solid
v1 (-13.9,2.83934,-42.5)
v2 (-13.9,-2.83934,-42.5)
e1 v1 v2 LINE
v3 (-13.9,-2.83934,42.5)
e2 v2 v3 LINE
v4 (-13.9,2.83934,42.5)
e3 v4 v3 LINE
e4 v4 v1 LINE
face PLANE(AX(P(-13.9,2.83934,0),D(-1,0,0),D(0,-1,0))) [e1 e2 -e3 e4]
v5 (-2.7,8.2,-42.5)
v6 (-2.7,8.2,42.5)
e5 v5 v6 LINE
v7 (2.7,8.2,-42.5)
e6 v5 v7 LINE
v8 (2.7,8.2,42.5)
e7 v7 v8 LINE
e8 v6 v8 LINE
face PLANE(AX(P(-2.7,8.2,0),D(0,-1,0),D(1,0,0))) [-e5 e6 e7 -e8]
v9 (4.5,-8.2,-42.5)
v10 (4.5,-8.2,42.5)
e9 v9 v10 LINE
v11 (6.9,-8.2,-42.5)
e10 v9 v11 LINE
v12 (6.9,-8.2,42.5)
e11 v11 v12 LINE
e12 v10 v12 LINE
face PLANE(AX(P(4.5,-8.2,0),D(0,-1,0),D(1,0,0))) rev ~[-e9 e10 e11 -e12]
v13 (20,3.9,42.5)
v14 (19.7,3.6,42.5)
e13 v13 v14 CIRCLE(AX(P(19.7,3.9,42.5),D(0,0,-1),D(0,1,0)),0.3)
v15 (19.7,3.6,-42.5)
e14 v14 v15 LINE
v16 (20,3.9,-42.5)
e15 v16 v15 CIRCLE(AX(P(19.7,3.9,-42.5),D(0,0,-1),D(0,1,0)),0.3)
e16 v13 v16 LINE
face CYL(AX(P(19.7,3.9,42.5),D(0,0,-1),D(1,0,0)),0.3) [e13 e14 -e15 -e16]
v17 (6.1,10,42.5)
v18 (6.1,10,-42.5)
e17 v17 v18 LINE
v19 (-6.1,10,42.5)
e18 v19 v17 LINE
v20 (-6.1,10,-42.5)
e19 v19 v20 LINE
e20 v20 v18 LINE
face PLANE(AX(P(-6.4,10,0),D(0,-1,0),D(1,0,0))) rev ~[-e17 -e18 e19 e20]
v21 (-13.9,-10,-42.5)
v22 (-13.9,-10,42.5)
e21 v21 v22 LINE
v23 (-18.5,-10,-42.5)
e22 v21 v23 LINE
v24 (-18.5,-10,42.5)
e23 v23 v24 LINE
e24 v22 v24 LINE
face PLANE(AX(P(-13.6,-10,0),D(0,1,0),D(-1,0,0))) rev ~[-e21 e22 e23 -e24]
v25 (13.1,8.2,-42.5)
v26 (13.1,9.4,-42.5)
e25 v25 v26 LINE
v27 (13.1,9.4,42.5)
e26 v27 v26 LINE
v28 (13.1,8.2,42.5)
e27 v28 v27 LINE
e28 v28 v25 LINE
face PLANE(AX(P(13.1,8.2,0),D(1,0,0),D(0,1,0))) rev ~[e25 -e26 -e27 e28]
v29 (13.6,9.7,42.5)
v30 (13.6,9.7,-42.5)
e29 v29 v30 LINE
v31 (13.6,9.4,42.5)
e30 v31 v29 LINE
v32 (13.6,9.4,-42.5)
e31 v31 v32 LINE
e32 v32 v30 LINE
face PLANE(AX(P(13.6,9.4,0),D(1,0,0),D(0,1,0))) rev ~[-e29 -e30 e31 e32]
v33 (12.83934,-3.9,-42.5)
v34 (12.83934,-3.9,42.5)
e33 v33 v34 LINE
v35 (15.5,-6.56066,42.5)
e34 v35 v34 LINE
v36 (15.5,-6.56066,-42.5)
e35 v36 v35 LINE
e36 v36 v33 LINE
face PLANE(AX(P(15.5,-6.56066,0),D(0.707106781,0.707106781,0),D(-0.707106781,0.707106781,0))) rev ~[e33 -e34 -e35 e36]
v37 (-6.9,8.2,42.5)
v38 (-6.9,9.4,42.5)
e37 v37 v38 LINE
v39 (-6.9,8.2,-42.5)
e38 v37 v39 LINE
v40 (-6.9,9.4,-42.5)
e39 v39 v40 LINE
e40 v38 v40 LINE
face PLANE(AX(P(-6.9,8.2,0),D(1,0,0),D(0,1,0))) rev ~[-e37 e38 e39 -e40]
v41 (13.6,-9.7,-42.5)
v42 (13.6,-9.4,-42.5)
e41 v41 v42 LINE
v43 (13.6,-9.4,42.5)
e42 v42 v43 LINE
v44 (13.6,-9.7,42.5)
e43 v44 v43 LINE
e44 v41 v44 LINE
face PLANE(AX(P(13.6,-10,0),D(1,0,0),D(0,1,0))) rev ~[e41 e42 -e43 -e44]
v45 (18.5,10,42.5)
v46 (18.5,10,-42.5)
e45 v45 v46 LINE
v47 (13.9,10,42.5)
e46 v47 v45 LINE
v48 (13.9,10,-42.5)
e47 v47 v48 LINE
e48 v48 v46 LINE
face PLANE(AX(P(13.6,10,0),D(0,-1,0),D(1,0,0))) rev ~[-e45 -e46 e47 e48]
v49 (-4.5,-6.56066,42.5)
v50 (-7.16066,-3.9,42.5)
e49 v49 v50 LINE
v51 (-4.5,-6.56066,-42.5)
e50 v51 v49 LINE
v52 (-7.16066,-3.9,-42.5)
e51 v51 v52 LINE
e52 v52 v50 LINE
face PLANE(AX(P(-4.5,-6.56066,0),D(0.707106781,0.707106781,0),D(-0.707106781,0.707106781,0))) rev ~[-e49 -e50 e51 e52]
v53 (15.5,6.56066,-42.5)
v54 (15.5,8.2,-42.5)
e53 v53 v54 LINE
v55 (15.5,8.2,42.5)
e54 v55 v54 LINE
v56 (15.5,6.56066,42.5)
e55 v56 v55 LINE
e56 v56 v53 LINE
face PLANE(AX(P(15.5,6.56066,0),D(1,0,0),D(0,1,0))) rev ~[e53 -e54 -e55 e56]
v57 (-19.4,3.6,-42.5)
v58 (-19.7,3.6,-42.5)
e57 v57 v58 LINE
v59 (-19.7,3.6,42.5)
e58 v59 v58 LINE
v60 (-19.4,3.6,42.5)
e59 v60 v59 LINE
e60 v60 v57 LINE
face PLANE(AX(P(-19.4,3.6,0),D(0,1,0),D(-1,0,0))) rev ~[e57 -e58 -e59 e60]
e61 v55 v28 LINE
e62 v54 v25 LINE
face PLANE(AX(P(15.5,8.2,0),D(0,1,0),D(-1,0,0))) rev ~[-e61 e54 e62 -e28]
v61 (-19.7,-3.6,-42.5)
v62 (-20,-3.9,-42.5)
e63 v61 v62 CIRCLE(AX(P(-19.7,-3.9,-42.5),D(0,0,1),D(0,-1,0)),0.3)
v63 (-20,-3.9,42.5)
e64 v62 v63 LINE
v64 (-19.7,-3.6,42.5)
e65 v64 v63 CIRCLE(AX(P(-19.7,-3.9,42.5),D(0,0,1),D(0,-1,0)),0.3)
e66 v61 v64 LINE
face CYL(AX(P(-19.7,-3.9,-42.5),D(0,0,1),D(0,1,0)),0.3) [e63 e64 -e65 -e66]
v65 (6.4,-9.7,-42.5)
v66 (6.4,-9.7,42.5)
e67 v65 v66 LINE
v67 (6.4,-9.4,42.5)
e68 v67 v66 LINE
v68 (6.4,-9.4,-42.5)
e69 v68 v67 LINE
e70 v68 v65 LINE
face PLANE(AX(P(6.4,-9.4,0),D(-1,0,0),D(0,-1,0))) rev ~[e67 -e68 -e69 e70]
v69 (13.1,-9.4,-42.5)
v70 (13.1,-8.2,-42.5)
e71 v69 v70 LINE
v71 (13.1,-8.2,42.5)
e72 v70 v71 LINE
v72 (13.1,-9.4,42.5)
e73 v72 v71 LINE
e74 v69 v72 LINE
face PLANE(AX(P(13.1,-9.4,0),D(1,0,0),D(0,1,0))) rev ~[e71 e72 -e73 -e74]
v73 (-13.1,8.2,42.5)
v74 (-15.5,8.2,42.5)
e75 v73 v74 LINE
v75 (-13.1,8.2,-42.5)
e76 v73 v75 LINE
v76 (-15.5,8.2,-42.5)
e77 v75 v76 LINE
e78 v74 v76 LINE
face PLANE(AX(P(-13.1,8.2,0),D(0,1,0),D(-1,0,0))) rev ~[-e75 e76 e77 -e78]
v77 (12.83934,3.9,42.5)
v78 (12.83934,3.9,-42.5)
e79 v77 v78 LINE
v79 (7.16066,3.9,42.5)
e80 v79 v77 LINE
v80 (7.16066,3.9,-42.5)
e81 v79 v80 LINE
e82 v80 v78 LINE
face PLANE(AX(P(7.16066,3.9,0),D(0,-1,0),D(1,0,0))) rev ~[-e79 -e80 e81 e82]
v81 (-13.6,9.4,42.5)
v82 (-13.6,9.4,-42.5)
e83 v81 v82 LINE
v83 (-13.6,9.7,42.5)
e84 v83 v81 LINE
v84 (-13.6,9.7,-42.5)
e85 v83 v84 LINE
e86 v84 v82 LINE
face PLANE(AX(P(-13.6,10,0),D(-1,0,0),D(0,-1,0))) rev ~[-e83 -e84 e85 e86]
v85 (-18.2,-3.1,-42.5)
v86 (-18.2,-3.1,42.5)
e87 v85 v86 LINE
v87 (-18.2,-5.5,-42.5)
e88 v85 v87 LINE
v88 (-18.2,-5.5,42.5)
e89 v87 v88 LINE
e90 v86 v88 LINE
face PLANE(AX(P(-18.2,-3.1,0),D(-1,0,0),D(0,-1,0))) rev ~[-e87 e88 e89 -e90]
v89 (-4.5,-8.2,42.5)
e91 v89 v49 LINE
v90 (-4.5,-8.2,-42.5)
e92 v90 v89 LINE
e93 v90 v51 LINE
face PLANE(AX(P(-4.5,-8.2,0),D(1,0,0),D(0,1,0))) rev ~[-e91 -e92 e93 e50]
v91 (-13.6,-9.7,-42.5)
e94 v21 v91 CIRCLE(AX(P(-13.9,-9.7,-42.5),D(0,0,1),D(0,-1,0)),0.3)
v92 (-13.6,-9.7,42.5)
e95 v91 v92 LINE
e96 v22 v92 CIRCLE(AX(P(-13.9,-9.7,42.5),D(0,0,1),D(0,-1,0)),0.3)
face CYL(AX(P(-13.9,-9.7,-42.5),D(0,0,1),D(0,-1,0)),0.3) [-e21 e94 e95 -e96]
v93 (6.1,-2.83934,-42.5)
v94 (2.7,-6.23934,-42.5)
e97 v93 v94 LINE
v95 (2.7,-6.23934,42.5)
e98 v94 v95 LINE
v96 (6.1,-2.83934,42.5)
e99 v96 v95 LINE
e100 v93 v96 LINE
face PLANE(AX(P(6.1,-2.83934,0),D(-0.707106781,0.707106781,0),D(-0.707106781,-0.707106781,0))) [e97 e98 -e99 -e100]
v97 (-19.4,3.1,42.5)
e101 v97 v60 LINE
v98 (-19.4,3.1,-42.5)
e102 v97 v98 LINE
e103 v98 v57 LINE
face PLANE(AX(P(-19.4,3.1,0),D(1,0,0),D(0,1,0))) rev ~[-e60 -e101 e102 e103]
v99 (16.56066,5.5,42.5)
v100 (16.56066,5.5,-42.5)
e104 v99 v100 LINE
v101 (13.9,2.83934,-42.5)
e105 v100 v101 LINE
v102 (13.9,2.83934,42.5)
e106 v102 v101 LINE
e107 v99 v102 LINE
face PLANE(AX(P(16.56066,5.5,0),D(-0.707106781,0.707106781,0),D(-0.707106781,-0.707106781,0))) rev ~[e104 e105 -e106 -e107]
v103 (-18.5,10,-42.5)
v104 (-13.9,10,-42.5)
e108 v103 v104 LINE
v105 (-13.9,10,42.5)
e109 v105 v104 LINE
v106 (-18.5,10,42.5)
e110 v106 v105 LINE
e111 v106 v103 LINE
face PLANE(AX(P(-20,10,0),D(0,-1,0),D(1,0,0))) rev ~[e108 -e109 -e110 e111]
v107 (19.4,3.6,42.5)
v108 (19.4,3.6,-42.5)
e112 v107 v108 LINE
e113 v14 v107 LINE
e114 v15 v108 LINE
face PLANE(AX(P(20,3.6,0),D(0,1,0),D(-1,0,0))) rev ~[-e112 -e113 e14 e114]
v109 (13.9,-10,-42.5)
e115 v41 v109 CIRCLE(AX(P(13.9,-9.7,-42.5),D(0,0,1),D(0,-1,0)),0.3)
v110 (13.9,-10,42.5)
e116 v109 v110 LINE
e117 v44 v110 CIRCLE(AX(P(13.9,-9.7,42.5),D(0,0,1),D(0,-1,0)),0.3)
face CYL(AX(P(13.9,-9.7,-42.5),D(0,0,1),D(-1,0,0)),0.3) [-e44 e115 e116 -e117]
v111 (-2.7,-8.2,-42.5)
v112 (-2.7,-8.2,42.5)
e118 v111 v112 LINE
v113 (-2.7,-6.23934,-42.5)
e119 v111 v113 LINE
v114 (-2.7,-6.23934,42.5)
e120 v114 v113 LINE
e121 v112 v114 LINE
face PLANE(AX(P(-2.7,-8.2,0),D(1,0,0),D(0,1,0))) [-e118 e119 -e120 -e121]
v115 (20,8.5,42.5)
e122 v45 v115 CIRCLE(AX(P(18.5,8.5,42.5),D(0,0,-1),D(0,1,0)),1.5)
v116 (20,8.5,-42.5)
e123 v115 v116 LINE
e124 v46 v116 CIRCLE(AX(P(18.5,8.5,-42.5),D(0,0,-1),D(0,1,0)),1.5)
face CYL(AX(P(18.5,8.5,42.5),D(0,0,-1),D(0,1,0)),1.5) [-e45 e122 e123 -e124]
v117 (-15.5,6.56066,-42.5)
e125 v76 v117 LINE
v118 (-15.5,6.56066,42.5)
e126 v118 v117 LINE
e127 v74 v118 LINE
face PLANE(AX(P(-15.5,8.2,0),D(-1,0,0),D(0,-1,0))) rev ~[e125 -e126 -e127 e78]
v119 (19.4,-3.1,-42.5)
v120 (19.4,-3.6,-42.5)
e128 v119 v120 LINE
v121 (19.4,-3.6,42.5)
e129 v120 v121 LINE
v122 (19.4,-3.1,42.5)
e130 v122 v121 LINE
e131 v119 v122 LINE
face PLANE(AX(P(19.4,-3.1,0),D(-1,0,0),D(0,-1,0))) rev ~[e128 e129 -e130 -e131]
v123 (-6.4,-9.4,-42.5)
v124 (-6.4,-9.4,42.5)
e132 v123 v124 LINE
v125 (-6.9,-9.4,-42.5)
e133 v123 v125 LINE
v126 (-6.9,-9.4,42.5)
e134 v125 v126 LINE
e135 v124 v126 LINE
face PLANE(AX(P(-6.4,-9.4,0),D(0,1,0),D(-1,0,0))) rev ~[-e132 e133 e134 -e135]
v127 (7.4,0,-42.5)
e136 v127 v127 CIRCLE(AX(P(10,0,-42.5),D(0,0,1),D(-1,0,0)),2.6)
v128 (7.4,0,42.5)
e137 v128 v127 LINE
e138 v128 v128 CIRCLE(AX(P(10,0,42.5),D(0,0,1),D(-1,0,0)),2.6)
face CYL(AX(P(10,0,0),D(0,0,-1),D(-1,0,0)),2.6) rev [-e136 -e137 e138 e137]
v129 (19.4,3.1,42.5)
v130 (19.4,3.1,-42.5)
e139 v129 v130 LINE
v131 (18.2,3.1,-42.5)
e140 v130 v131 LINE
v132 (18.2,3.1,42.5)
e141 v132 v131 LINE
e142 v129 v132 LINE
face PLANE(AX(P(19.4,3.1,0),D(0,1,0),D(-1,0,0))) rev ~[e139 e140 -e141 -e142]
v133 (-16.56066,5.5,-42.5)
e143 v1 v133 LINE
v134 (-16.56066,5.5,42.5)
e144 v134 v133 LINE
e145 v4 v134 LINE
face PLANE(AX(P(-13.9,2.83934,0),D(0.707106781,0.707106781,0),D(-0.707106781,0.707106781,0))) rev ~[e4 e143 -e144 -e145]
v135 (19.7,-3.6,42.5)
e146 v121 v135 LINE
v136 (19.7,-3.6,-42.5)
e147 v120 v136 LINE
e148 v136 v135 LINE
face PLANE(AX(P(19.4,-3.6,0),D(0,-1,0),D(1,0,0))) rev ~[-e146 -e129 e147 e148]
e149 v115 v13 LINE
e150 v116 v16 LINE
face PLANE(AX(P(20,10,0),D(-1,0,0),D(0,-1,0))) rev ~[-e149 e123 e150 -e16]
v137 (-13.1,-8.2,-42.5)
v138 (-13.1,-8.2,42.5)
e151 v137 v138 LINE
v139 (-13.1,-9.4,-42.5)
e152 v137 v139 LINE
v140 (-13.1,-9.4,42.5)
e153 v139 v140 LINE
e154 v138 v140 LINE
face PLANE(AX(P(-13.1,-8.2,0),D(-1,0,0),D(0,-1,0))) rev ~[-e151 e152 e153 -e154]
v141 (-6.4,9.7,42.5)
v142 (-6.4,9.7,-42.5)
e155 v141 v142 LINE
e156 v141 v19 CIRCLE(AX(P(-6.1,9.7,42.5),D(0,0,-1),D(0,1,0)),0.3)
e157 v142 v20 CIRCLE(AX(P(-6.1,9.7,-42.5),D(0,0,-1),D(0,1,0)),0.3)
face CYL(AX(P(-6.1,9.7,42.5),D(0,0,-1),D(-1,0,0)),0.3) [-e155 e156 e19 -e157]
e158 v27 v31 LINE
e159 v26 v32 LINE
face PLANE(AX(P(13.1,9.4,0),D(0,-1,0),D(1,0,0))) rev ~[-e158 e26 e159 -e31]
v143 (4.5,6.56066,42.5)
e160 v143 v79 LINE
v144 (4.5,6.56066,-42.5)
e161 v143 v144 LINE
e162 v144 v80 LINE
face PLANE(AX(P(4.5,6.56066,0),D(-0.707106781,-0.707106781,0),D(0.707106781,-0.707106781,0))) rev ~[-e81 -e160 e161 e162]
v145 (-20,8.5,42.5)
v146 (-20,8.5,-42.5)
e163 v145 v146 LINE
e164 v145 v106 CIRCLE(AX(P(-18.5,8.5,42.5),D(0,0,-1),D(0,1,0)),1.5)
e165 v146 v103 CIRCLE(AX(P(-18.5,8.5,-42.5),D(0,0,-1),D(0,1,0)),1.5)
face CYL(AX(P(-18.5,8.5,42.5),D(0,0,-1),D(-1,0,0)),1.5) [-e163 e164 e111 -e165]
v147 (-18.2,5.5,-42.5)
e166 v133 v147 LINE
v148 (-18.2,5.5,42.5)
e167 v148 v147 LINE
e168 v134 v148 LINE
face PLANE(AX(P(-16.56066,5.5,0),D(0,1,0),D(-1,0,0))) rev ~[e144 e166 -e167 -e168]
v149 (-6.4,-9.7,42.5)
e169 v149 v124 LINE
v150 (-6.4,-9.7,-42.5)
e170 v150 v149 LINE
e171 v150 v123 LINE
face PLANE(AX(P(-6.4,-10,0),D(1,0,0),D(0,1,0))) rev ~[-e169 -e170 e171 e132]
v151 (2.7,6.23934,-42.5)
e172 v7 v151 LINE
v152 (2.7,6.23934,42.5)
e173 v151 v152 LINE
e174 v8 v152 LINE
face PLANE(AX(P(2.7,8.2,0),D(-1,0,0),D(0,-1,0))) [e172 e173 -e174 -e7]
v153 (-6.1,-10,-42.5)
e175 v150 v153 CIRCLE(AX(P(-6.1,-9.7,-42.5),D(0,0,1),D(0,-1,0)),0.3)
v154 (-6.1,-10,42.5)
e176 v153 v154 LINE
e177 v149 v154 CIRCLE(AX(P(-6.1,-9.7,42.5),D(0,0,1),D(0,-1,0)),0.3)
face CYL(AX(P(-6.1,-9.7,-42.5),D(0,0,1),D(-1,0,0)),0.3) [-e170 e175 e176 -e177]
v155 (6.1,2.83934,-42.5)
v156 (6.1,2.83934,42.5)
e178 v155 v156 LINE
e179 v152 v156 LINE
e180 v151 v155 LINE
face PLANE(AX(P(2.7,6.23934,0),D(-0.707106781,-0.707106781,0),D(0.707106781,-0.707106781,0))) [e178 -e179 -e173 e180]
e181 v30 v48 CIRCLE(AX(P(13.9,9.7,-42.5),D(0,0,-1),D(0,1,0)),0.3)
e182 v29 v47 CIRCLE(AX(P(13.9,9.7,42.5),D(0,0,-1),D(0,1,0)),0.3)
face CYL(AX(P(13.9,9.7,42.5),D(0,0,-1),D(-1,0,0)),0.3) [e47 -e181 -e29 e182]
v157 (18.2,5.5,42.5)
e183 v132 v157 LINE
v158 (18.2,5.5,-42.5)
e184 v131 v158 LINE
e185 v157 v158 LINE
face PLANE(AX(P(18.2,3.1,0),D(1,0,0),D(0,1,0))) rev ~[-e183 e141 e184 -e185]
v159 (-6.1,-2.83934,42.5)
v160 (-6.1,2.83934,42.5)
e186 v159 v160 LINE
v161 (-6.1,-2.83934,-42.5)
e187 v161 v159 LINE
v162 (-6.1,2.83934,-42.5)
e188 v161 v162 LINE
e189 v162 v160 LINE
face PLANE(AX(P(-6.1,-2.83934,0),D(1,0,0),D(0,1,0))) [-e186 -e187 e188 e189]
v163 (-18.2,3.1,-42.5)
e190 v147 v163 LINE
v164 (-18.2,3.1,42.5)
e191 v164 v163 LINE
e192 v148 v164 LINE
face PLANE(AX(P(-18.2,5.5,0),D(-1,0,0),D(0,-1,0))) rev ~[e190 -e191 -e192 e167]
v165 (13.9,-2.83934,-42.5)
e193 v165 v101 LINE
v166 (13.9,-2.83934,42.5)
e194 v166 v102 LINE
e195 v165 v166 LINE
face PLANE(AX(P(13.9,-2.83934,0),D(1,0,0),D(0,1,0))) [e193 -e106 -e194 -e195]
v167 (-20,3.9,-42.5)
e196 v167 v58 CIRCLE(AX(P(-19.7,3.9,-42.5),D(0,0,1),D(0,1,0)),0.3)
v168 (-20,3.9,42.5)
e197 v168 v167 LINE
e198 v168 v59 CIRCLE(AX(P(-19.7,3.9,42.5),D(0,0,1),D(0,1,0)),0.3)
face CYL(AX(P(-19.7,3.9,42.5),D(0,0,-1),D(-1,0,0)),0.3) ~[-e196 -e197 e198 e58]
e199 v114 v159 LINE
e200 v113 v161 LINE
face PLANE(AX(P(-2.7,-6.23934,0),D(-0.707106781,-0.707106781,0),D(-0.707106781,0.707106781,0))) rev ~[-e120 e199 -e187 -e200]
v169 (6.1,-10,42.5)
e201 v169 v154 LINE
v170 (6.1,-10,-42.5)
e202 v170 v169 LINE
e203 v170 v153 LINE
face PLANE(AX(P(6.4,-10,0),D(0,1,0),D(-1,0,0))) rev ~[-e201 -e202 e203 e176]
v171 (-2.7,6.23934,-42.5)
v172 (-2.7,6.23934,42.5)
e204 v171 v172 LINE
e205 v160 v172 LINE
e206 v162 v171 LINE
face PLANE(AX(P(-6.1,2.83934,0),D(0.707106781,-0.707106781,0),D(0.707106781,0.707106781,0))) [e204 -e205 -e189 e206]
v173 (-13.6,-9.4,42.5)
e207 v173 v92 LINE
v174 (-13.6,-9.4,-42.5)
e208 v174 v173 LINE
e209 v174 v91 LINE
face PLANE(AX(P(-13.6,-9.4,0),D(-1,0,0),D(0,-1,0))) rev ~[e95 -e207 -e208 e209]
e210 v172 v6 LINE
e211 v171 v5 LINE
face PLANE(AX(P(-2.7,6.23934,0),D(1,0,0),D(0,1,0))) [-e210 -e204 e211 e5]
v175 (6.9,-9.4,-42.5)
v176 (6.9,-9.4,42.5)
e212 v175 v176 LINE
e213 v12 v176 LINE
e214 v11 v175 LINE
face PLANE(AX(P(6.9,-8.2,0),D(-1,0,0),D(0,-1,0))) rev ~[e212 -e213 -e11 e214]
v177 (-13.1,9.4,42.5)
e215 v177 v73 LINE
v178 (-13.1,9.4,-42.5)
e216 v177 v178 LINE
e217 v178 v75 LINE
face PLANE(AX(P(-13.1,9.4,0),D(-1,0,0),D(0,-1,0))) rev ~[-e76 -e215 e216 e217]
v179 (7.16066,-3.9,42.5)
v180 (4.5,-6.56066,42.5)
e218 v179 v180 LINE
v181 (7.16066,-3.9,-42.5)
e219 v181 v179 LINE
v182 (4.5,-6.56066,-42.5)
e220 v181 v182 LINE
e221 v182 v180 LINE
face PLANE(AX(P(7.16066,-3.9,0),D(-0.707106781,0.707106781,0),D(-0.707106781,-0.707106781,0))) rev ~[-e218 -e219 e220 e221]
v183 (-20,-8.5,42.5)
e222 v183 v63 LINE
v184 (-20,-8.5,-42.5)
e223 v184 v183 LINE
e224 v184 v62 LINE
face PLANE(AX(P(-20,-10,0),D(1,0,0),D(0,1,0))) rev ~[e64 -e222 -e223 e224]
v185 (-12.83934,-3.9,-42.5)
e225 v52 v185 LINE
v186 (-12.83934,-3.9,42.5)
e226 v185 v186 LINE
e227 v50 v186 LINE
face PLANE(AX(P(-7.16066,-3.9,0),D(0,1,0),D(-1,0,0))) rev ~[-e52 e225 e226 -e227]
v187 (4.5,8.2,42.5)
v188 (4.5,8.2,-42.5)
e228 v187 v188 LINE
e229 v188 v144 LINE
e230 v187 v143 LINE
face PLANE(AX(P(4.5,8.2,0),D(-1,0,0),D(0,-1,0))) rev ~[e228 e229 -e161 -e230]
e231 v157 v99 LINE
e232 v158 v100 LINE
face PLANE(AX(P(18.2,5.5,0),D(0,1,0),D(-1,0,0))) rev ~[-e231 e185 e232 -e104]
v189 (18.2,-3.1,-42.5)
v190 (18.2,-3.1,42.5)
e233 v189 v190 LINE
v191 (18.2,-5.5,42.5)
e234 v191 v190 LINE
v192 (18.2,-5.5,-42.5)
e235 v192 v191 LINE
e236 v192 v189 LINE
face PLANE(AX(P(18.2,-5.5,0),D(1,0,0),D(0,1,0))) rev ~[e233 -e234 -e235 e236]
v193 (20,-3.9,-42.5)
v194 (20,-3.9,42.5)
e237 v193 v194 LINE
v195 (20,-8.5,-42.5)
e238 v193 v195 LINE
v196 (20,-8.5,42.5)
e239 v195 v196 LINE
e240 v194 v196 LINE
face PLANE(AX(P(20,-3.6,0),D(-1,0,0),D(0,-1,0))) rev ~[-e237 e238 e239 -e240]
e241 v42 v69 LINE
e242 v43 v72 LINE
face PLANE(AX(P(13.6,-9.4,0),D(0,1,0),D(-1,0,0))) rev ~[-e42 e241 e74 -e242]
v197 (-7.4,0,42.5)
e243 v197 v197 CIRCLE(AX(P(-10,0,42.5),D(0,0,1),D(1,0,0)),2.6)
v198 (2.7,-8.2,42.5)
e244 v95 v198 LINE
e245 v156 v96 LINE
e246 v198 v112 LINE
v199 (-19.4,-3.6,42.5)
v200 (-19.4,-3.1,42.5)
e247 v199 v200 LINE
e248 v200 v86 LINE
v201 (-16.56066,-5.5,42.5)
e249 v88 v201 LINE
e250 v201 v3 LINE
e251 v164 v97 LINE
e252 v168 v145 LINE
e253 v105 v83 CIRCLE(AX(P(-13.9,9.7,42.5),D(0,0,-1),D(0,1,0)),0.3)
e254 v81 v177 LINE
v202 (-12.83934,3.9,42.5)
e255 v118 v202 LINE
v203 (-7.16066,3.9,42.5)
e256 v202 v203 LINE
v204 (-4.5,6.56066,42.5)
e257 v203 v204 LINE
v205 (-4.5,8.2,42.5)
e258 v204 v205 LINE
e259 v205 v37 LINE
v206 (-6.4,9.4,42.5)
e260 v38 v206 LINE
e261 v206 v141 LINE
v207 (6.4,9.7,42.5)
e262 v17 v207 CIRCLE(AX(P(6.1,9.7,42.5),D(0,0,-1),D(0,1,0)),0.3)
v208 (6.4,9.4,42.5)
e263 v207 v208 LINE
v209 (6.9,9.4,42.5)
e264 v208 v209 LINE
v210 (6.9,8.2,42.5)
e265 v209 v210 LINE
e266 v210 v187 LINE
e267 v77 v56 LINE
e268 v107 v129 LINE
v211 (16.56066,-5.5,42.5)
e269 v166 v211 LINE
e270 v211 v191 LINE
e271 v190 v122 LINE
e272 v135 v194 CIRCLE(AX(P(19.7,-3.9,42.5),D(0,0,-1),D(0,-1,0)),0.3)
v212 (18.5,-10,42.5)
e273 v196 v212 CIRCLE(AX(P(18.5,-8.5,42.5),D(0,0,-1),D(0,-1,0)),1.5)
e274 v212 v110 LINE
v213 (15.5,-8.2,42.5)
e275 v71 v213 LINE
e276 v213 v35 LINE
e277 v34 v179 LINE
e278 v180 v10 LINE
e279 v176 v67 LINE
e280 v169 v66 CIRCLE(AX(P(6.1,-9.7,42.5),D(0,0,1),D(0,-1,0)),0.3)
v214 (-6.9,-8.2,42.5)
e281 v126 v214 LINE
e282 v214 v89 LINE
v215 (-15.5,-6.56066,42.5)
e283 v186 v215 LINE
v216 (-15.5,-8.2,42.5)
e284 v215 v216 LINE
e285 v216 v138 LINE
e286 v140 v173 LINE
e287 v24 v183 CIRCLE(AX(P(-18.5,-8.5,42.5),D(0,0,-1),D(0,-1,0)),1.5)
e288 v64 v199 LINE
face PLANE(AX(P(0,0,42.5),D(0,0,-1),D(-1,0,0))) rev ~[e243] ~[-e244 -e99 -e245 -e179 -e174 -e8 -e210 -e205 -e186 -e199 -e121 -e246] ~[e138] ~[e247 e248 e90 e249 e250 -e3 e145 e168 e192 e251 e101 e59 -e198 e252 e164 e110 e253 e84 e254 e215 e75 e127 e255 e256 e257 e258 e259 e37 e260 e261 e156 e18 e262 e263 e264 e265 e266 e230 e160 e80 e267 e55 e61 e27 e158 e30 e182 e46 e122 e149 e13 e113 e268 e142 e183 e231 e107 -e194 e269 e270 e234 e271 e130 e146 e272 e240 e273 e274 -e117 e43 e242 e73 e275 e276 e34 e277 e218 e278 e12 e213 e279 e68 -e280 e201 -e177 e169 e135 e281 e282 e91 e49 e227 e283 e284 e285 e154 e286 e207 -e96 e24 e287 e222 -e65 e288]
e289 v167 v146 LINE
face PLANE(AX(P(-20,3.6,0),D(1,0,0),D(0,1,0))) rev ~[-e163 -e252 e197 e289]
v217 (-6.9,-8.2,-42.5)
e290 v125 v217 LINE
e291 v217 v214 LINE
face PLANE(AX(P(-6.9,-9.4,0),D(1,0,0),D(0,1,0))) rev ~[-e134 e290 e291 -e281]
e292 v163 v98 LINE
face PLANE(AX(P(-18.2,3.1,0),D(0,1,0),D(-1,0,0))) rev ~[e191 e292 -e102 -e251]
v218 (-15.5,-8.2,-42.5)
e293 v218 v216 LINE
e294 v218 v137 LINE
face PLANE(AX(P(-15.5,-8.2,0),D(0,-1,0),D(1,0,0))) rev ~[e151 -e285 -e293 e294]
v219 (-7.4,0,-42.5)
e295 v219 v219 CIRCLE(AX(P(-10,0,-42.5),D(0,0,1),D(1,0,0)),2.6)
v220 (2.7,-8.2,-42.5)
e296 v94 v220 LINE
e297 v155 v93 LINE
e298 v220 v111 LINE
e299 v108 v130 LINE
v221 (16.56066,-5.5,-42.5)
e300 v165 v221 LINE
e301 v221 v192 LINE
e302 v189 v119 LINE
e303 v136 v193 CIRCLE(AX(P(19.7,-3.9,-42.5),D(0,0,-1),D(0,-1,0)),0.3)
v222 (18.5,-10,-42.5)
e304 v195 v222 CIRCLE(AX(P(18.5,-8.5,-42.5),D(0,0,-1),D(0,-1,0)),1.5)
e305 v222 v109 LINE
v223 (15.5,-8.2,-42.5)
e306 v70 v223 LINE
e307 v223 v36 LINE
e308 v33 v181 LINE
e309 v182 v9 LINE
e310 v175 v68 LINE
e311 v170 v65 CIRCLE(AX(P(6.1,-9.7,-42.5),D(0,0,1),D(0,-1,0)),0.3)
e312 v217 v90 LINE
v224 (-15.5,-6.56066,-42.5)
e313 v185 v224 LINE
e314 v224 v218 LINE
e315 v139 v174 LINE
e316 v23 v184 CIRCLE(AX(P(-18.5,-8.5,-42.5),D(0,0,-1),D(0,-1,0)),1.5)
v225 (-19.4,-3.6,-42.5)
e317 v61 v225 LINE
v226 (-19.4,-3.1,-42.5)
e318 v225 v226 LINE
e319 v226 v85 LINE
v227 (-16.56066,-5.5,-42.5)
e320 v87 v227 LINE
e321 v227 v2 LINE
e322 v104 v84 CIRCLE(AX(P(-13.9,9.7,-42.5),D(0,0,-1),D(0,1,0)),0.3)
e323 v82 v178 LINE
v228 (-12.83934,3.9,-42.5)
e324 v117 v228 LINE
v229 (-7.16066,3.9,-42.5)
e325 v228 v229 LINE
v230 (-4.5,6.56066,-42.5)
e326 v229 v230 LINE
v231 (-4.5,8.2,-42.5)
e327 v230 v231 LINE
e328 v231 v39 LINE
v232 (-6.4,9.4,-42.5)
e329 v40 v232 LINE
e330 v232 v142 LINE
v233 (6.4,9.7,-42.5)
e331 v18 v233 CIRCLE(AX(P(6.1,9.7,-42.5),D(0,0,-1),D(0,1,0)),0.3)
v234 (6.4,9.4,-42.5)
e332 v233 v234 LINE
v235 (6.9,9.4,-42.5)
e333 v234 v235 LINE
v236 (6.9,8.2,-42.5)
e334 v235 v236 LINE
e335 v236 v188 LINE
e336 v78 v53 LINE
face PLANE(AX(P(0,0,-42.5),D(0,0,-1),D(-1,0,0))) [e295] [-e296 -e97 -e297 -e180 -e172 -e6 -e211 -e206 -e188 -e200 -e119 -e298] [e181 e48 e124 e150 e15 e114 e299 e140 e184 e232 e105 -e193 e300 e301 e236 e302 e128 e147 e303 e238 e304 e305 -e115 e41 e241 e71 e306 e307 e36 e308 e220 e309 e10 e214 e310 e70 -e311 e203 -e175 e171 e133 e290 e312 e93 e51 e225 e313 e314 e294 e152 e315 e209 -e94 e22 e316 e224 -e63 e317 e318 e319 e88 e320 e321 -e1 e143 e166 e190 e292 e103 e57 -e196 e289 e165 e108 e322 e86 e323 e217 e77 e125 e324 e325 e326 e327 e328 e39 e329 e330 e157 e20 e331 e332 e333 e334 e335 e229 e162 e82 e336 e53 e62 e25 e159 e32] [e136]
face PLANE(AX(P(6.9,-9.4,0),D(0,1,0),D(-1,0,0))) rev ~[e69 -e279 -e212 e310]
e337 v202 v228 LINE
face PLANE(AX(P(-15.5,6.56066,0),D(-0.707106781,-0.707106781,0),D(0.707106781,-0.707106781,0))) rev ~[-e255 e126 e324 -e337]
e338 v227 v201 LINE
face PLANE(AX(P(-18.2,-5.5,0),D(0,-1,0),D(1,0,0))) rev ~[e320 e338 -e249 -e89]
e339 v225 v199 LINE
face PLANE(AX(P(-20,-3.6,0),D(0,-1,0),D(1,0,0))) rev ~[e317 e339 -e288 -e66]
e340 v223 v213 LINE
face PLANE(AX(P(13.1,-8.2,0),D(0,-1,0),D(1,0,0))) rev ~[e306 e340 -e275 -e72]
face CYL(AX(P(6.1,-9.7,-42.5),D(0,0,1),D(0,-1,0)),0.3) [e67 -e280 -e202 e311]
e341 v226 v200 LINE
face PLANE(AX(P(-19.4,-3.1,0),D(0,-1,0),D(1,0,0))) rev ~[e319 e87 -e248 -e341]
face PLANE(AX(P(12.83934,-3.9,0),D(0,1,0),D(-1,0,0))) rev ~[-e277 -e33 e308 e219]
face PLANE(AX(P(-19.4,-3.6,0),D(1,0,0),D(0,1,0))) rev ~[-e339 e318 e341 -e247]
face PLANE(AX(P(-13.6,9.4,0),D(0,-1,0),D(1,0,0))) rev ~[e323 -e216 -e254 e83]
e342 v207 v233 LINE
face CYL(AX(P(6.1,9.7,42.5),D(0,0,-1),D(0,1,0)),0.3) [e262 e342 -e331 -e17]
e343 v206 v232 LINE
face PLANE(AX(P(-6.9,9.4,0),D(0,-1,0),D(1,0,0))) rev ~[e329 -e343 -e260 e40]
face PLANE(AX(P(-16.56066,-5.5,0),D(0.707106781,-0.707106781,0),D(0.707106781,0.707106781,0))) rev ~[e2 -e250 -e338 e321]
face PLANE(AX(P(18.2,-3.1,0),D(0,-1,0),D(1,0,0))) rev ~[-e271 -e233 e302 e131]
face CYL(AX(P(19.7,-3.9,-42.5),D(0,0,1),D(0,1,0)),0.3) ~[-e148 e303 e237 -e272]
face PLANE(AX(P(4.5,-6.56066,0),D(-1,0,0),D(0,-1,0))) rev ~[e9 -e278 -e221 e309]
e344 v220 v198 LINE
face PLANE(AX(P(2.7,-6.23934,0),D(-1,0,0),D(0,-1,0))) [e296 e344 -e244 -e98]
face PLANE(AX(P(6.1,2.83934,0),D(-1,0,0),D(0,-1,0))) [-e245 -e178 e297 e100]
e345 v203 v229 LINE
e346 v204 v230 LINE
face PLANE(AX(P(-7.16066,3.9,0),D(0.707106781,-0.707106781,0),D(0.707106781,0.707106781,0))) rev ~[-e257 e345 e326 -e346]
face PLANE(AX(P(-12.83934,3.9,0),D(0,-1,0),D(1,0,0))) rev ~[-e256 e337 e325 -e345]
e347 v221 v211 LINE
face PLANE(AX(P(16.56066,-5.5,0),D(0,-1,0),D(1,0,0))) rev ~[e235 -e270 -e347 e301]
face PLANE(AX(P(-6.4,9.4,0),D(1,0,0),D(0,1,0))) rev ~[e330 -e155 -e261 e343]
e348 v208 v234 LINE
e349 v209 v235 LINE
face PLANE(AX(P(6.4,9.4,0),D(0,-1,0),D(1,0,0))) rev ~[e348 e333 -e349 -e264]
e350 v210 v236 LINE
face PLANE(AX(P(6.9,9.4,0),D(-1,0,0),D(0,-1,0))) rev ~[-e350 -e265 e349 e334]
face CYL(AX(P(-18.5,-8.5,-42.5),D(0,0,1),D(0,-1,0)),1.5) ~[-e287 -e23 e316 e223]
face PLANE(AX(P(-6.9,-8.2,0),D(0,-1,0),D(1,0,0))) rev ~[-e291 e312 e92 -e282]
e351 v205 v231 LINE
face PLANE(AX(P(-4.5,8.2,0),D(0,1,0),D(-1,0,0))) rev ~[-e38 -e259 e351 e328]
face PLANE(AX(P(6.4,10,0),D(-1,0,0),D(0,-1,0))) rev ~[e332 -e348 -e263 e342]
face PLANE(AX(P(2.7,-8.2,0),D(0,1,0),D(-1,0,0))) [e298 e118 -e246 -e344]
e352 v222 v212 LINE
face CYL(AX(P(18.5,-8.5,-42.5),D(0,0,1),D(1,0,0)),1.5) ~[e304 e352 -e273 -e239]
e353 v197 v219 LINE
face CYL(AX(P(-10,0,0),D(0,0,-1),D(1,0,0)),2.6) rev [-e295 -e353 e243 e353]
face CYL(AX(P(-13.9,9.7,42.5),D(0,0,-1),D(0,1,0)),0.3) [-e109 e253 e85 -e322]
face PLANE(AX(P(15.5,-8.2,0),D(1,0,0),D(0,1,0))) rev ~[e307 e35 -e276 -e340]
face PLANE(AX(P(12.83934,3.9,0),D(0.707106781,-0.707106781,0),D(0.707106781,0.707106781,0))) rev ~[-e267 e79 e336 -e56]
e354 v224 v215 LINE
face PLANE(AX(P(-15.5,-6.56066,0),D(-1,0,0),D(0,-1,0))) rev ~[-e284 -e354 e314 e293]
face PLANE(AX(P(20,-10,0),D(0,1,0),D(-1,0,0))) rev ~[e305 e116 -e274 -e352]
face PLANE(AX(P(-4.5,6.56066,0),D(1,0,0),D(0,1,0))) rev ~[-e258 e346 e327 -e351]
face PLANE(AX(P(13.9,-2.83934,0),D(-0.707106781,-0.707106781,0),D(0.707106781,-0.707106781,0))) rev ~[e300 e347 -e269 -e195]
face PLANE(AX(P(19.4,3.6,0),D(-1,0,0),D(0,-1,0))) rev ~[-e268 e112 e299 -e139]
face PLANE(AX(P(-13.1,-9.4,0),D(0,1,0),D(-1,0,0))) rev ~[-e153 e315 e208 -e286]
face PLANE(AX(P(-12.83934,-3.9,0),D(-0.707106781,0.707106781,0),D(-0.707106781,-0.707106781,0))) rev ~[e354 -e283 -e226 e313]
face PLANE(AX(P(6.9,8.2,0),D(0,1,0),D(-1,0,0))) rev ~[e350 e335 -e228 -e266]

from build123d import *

# Parameters (mm, degrees)
SKETCH_1_R      = 2.6
EXTRUDE_1_DEPTH = 42.5
FILLET_1_R      = 1.5
FILLET_2_R      = 0.3


with BuildPart() as part:
    # 草图1 → 凸台-拉伸1 (new, symmetric)
    with BuildSketch(Plane.XY):
        Polygon((-13.9, 0), (-13.9, 2.839339828), (-16.560660172, 5.5), (-18.2, 5.5), (-18.2, 3.1), (-19.4, 3.1), (-19.4, 3.6), (-20, 3.6), (-20, 10), (-13.6, 10), (-13.6, 9.4), (-13.1, 9.4), (-13.1, 8.2), (-15.5, 8.2), (-15.5, 6.560660172), (-12.839339828, 3.9), (-7.160660172, 3.9), (-4.5, 6.560660172), (-4.5, 8.2), (-6.9, 8.2), (-6.9, 9.4), (-6.4, 9.4), (-6.4, 10), (6.4, 10), (6.4, 9.4), (6.9, 9.4), (6.9, 8.2), (4.5, 8.2), (4.5, 6.560660172), (7.160660172, 3.9), (12.839339828, 3.9), (15.5, 6.560660172), (15.5, 8.2), (13.1, 8.2), (13.1, 9.4), (13.6, 9.4), (13.6, 10), (20, 10), (20, 3.6), (19.4, 3.6), (19.4, 3.1), (18.2, 3.1), (18.2, 5.5), (16.560660172, 5.5), (13.9, 2.839339828), (13.9, 0), (13.9, -2.839339828), (16.560660172, -5.5), (18.2, -5.5), (18.2, -3.1), (19.4, -3.1), (19.4, -3.6), (20, -3.6), (20, -10), (13.6, -10), (13.6, -9.4), (13.1, -9.4), (13.1, -8.2), (15.5, -8.2), (15.5, -6.560660172), (12.839339828, -3.9), (7.160660172, -3.9), (4.5, -6.560660172), (4.5, -8.2), (6.9, -8.2), (6.9, -9.4), (6.4, -9.4), (6.4, -10), (-6.4, -10), (-6.4, -9.4), (-6.9, -9.4), (-6.9, -8.2), (-4.5, -8.2), (-4.5, -6.560660172), (-7.160660172, -3.9), (-12.839339828, -3.9), (-15.5, -6.560660172), (-15.5, -8.2), (-13.1, -8.2), (-13.1, -9.4), (-13.6, -9.4), (-13.6, -10), (-20, -10), (-20, -3.6), (-19.4, -3.6), (-19.4, -3.1), (-18.2, -3.1), (-18.2, -5.5), (-16.560660172, -5.5), (-13.9, -2.839339828), align=None)
        with Locations((-10, 0)):
            Circle(SKETCH_1_R, mode=Mode.SUBTRACT)
        with Locations(Location((10, 0, 0), (0, 0, 180))):
            Circle(SKETCH_1_R, mode=Mode.SUBTRACT)
        Polygon((-6.1, -2.839339828), (-6.1, 2.839339828), (-2.7, 6.239339828), (-2.7, 8.2), (2.7, 8.2), (2.7, 6.239339828), (6.1, 2.839339828), (6.1, -2.839339828), (2.7, -6.239339828), (2.7, -8.2), (-2.7, -8.2), (-2.7, -6.239339828), align=None, mode=Mode.SUBTRACT)
    extrude(amount=EXTRUDE_1_DEPTH, both=True)

    # 圆角1
    fillet_1_edges = [part.edges().sort_by_distance(p)[0] for p in [
        (-20, 10, 0),
        (20, 10, 0),
        (20, -10, 0),
        (-20, -10, 0),
    ]]
    fillet(fillet_1_edges, radius=FILLET_1_R)

    # 圆角2
    fillet_2_edges = [part.edges().sort_by_distance(p)[0] for p in [
        (-20, 3.6, 0),
        (-13.6, 10, 0),
        (-6.4, 10, 0),
        (6.4, 10, 0),
        (13.6, 10, 0),
        (20, 3.6, 0),
        (20, -3.6, 0),
        (13.6, -10, 0),
        (6.4, -10, 0),
        (-6.4, -10, 0),
        (-13.6, -10, 0),
        (-20, -3.6, 0),
    ]]
    fillet(fillet_2_edges, radius=FILLET_2_R)


solid = part.part
